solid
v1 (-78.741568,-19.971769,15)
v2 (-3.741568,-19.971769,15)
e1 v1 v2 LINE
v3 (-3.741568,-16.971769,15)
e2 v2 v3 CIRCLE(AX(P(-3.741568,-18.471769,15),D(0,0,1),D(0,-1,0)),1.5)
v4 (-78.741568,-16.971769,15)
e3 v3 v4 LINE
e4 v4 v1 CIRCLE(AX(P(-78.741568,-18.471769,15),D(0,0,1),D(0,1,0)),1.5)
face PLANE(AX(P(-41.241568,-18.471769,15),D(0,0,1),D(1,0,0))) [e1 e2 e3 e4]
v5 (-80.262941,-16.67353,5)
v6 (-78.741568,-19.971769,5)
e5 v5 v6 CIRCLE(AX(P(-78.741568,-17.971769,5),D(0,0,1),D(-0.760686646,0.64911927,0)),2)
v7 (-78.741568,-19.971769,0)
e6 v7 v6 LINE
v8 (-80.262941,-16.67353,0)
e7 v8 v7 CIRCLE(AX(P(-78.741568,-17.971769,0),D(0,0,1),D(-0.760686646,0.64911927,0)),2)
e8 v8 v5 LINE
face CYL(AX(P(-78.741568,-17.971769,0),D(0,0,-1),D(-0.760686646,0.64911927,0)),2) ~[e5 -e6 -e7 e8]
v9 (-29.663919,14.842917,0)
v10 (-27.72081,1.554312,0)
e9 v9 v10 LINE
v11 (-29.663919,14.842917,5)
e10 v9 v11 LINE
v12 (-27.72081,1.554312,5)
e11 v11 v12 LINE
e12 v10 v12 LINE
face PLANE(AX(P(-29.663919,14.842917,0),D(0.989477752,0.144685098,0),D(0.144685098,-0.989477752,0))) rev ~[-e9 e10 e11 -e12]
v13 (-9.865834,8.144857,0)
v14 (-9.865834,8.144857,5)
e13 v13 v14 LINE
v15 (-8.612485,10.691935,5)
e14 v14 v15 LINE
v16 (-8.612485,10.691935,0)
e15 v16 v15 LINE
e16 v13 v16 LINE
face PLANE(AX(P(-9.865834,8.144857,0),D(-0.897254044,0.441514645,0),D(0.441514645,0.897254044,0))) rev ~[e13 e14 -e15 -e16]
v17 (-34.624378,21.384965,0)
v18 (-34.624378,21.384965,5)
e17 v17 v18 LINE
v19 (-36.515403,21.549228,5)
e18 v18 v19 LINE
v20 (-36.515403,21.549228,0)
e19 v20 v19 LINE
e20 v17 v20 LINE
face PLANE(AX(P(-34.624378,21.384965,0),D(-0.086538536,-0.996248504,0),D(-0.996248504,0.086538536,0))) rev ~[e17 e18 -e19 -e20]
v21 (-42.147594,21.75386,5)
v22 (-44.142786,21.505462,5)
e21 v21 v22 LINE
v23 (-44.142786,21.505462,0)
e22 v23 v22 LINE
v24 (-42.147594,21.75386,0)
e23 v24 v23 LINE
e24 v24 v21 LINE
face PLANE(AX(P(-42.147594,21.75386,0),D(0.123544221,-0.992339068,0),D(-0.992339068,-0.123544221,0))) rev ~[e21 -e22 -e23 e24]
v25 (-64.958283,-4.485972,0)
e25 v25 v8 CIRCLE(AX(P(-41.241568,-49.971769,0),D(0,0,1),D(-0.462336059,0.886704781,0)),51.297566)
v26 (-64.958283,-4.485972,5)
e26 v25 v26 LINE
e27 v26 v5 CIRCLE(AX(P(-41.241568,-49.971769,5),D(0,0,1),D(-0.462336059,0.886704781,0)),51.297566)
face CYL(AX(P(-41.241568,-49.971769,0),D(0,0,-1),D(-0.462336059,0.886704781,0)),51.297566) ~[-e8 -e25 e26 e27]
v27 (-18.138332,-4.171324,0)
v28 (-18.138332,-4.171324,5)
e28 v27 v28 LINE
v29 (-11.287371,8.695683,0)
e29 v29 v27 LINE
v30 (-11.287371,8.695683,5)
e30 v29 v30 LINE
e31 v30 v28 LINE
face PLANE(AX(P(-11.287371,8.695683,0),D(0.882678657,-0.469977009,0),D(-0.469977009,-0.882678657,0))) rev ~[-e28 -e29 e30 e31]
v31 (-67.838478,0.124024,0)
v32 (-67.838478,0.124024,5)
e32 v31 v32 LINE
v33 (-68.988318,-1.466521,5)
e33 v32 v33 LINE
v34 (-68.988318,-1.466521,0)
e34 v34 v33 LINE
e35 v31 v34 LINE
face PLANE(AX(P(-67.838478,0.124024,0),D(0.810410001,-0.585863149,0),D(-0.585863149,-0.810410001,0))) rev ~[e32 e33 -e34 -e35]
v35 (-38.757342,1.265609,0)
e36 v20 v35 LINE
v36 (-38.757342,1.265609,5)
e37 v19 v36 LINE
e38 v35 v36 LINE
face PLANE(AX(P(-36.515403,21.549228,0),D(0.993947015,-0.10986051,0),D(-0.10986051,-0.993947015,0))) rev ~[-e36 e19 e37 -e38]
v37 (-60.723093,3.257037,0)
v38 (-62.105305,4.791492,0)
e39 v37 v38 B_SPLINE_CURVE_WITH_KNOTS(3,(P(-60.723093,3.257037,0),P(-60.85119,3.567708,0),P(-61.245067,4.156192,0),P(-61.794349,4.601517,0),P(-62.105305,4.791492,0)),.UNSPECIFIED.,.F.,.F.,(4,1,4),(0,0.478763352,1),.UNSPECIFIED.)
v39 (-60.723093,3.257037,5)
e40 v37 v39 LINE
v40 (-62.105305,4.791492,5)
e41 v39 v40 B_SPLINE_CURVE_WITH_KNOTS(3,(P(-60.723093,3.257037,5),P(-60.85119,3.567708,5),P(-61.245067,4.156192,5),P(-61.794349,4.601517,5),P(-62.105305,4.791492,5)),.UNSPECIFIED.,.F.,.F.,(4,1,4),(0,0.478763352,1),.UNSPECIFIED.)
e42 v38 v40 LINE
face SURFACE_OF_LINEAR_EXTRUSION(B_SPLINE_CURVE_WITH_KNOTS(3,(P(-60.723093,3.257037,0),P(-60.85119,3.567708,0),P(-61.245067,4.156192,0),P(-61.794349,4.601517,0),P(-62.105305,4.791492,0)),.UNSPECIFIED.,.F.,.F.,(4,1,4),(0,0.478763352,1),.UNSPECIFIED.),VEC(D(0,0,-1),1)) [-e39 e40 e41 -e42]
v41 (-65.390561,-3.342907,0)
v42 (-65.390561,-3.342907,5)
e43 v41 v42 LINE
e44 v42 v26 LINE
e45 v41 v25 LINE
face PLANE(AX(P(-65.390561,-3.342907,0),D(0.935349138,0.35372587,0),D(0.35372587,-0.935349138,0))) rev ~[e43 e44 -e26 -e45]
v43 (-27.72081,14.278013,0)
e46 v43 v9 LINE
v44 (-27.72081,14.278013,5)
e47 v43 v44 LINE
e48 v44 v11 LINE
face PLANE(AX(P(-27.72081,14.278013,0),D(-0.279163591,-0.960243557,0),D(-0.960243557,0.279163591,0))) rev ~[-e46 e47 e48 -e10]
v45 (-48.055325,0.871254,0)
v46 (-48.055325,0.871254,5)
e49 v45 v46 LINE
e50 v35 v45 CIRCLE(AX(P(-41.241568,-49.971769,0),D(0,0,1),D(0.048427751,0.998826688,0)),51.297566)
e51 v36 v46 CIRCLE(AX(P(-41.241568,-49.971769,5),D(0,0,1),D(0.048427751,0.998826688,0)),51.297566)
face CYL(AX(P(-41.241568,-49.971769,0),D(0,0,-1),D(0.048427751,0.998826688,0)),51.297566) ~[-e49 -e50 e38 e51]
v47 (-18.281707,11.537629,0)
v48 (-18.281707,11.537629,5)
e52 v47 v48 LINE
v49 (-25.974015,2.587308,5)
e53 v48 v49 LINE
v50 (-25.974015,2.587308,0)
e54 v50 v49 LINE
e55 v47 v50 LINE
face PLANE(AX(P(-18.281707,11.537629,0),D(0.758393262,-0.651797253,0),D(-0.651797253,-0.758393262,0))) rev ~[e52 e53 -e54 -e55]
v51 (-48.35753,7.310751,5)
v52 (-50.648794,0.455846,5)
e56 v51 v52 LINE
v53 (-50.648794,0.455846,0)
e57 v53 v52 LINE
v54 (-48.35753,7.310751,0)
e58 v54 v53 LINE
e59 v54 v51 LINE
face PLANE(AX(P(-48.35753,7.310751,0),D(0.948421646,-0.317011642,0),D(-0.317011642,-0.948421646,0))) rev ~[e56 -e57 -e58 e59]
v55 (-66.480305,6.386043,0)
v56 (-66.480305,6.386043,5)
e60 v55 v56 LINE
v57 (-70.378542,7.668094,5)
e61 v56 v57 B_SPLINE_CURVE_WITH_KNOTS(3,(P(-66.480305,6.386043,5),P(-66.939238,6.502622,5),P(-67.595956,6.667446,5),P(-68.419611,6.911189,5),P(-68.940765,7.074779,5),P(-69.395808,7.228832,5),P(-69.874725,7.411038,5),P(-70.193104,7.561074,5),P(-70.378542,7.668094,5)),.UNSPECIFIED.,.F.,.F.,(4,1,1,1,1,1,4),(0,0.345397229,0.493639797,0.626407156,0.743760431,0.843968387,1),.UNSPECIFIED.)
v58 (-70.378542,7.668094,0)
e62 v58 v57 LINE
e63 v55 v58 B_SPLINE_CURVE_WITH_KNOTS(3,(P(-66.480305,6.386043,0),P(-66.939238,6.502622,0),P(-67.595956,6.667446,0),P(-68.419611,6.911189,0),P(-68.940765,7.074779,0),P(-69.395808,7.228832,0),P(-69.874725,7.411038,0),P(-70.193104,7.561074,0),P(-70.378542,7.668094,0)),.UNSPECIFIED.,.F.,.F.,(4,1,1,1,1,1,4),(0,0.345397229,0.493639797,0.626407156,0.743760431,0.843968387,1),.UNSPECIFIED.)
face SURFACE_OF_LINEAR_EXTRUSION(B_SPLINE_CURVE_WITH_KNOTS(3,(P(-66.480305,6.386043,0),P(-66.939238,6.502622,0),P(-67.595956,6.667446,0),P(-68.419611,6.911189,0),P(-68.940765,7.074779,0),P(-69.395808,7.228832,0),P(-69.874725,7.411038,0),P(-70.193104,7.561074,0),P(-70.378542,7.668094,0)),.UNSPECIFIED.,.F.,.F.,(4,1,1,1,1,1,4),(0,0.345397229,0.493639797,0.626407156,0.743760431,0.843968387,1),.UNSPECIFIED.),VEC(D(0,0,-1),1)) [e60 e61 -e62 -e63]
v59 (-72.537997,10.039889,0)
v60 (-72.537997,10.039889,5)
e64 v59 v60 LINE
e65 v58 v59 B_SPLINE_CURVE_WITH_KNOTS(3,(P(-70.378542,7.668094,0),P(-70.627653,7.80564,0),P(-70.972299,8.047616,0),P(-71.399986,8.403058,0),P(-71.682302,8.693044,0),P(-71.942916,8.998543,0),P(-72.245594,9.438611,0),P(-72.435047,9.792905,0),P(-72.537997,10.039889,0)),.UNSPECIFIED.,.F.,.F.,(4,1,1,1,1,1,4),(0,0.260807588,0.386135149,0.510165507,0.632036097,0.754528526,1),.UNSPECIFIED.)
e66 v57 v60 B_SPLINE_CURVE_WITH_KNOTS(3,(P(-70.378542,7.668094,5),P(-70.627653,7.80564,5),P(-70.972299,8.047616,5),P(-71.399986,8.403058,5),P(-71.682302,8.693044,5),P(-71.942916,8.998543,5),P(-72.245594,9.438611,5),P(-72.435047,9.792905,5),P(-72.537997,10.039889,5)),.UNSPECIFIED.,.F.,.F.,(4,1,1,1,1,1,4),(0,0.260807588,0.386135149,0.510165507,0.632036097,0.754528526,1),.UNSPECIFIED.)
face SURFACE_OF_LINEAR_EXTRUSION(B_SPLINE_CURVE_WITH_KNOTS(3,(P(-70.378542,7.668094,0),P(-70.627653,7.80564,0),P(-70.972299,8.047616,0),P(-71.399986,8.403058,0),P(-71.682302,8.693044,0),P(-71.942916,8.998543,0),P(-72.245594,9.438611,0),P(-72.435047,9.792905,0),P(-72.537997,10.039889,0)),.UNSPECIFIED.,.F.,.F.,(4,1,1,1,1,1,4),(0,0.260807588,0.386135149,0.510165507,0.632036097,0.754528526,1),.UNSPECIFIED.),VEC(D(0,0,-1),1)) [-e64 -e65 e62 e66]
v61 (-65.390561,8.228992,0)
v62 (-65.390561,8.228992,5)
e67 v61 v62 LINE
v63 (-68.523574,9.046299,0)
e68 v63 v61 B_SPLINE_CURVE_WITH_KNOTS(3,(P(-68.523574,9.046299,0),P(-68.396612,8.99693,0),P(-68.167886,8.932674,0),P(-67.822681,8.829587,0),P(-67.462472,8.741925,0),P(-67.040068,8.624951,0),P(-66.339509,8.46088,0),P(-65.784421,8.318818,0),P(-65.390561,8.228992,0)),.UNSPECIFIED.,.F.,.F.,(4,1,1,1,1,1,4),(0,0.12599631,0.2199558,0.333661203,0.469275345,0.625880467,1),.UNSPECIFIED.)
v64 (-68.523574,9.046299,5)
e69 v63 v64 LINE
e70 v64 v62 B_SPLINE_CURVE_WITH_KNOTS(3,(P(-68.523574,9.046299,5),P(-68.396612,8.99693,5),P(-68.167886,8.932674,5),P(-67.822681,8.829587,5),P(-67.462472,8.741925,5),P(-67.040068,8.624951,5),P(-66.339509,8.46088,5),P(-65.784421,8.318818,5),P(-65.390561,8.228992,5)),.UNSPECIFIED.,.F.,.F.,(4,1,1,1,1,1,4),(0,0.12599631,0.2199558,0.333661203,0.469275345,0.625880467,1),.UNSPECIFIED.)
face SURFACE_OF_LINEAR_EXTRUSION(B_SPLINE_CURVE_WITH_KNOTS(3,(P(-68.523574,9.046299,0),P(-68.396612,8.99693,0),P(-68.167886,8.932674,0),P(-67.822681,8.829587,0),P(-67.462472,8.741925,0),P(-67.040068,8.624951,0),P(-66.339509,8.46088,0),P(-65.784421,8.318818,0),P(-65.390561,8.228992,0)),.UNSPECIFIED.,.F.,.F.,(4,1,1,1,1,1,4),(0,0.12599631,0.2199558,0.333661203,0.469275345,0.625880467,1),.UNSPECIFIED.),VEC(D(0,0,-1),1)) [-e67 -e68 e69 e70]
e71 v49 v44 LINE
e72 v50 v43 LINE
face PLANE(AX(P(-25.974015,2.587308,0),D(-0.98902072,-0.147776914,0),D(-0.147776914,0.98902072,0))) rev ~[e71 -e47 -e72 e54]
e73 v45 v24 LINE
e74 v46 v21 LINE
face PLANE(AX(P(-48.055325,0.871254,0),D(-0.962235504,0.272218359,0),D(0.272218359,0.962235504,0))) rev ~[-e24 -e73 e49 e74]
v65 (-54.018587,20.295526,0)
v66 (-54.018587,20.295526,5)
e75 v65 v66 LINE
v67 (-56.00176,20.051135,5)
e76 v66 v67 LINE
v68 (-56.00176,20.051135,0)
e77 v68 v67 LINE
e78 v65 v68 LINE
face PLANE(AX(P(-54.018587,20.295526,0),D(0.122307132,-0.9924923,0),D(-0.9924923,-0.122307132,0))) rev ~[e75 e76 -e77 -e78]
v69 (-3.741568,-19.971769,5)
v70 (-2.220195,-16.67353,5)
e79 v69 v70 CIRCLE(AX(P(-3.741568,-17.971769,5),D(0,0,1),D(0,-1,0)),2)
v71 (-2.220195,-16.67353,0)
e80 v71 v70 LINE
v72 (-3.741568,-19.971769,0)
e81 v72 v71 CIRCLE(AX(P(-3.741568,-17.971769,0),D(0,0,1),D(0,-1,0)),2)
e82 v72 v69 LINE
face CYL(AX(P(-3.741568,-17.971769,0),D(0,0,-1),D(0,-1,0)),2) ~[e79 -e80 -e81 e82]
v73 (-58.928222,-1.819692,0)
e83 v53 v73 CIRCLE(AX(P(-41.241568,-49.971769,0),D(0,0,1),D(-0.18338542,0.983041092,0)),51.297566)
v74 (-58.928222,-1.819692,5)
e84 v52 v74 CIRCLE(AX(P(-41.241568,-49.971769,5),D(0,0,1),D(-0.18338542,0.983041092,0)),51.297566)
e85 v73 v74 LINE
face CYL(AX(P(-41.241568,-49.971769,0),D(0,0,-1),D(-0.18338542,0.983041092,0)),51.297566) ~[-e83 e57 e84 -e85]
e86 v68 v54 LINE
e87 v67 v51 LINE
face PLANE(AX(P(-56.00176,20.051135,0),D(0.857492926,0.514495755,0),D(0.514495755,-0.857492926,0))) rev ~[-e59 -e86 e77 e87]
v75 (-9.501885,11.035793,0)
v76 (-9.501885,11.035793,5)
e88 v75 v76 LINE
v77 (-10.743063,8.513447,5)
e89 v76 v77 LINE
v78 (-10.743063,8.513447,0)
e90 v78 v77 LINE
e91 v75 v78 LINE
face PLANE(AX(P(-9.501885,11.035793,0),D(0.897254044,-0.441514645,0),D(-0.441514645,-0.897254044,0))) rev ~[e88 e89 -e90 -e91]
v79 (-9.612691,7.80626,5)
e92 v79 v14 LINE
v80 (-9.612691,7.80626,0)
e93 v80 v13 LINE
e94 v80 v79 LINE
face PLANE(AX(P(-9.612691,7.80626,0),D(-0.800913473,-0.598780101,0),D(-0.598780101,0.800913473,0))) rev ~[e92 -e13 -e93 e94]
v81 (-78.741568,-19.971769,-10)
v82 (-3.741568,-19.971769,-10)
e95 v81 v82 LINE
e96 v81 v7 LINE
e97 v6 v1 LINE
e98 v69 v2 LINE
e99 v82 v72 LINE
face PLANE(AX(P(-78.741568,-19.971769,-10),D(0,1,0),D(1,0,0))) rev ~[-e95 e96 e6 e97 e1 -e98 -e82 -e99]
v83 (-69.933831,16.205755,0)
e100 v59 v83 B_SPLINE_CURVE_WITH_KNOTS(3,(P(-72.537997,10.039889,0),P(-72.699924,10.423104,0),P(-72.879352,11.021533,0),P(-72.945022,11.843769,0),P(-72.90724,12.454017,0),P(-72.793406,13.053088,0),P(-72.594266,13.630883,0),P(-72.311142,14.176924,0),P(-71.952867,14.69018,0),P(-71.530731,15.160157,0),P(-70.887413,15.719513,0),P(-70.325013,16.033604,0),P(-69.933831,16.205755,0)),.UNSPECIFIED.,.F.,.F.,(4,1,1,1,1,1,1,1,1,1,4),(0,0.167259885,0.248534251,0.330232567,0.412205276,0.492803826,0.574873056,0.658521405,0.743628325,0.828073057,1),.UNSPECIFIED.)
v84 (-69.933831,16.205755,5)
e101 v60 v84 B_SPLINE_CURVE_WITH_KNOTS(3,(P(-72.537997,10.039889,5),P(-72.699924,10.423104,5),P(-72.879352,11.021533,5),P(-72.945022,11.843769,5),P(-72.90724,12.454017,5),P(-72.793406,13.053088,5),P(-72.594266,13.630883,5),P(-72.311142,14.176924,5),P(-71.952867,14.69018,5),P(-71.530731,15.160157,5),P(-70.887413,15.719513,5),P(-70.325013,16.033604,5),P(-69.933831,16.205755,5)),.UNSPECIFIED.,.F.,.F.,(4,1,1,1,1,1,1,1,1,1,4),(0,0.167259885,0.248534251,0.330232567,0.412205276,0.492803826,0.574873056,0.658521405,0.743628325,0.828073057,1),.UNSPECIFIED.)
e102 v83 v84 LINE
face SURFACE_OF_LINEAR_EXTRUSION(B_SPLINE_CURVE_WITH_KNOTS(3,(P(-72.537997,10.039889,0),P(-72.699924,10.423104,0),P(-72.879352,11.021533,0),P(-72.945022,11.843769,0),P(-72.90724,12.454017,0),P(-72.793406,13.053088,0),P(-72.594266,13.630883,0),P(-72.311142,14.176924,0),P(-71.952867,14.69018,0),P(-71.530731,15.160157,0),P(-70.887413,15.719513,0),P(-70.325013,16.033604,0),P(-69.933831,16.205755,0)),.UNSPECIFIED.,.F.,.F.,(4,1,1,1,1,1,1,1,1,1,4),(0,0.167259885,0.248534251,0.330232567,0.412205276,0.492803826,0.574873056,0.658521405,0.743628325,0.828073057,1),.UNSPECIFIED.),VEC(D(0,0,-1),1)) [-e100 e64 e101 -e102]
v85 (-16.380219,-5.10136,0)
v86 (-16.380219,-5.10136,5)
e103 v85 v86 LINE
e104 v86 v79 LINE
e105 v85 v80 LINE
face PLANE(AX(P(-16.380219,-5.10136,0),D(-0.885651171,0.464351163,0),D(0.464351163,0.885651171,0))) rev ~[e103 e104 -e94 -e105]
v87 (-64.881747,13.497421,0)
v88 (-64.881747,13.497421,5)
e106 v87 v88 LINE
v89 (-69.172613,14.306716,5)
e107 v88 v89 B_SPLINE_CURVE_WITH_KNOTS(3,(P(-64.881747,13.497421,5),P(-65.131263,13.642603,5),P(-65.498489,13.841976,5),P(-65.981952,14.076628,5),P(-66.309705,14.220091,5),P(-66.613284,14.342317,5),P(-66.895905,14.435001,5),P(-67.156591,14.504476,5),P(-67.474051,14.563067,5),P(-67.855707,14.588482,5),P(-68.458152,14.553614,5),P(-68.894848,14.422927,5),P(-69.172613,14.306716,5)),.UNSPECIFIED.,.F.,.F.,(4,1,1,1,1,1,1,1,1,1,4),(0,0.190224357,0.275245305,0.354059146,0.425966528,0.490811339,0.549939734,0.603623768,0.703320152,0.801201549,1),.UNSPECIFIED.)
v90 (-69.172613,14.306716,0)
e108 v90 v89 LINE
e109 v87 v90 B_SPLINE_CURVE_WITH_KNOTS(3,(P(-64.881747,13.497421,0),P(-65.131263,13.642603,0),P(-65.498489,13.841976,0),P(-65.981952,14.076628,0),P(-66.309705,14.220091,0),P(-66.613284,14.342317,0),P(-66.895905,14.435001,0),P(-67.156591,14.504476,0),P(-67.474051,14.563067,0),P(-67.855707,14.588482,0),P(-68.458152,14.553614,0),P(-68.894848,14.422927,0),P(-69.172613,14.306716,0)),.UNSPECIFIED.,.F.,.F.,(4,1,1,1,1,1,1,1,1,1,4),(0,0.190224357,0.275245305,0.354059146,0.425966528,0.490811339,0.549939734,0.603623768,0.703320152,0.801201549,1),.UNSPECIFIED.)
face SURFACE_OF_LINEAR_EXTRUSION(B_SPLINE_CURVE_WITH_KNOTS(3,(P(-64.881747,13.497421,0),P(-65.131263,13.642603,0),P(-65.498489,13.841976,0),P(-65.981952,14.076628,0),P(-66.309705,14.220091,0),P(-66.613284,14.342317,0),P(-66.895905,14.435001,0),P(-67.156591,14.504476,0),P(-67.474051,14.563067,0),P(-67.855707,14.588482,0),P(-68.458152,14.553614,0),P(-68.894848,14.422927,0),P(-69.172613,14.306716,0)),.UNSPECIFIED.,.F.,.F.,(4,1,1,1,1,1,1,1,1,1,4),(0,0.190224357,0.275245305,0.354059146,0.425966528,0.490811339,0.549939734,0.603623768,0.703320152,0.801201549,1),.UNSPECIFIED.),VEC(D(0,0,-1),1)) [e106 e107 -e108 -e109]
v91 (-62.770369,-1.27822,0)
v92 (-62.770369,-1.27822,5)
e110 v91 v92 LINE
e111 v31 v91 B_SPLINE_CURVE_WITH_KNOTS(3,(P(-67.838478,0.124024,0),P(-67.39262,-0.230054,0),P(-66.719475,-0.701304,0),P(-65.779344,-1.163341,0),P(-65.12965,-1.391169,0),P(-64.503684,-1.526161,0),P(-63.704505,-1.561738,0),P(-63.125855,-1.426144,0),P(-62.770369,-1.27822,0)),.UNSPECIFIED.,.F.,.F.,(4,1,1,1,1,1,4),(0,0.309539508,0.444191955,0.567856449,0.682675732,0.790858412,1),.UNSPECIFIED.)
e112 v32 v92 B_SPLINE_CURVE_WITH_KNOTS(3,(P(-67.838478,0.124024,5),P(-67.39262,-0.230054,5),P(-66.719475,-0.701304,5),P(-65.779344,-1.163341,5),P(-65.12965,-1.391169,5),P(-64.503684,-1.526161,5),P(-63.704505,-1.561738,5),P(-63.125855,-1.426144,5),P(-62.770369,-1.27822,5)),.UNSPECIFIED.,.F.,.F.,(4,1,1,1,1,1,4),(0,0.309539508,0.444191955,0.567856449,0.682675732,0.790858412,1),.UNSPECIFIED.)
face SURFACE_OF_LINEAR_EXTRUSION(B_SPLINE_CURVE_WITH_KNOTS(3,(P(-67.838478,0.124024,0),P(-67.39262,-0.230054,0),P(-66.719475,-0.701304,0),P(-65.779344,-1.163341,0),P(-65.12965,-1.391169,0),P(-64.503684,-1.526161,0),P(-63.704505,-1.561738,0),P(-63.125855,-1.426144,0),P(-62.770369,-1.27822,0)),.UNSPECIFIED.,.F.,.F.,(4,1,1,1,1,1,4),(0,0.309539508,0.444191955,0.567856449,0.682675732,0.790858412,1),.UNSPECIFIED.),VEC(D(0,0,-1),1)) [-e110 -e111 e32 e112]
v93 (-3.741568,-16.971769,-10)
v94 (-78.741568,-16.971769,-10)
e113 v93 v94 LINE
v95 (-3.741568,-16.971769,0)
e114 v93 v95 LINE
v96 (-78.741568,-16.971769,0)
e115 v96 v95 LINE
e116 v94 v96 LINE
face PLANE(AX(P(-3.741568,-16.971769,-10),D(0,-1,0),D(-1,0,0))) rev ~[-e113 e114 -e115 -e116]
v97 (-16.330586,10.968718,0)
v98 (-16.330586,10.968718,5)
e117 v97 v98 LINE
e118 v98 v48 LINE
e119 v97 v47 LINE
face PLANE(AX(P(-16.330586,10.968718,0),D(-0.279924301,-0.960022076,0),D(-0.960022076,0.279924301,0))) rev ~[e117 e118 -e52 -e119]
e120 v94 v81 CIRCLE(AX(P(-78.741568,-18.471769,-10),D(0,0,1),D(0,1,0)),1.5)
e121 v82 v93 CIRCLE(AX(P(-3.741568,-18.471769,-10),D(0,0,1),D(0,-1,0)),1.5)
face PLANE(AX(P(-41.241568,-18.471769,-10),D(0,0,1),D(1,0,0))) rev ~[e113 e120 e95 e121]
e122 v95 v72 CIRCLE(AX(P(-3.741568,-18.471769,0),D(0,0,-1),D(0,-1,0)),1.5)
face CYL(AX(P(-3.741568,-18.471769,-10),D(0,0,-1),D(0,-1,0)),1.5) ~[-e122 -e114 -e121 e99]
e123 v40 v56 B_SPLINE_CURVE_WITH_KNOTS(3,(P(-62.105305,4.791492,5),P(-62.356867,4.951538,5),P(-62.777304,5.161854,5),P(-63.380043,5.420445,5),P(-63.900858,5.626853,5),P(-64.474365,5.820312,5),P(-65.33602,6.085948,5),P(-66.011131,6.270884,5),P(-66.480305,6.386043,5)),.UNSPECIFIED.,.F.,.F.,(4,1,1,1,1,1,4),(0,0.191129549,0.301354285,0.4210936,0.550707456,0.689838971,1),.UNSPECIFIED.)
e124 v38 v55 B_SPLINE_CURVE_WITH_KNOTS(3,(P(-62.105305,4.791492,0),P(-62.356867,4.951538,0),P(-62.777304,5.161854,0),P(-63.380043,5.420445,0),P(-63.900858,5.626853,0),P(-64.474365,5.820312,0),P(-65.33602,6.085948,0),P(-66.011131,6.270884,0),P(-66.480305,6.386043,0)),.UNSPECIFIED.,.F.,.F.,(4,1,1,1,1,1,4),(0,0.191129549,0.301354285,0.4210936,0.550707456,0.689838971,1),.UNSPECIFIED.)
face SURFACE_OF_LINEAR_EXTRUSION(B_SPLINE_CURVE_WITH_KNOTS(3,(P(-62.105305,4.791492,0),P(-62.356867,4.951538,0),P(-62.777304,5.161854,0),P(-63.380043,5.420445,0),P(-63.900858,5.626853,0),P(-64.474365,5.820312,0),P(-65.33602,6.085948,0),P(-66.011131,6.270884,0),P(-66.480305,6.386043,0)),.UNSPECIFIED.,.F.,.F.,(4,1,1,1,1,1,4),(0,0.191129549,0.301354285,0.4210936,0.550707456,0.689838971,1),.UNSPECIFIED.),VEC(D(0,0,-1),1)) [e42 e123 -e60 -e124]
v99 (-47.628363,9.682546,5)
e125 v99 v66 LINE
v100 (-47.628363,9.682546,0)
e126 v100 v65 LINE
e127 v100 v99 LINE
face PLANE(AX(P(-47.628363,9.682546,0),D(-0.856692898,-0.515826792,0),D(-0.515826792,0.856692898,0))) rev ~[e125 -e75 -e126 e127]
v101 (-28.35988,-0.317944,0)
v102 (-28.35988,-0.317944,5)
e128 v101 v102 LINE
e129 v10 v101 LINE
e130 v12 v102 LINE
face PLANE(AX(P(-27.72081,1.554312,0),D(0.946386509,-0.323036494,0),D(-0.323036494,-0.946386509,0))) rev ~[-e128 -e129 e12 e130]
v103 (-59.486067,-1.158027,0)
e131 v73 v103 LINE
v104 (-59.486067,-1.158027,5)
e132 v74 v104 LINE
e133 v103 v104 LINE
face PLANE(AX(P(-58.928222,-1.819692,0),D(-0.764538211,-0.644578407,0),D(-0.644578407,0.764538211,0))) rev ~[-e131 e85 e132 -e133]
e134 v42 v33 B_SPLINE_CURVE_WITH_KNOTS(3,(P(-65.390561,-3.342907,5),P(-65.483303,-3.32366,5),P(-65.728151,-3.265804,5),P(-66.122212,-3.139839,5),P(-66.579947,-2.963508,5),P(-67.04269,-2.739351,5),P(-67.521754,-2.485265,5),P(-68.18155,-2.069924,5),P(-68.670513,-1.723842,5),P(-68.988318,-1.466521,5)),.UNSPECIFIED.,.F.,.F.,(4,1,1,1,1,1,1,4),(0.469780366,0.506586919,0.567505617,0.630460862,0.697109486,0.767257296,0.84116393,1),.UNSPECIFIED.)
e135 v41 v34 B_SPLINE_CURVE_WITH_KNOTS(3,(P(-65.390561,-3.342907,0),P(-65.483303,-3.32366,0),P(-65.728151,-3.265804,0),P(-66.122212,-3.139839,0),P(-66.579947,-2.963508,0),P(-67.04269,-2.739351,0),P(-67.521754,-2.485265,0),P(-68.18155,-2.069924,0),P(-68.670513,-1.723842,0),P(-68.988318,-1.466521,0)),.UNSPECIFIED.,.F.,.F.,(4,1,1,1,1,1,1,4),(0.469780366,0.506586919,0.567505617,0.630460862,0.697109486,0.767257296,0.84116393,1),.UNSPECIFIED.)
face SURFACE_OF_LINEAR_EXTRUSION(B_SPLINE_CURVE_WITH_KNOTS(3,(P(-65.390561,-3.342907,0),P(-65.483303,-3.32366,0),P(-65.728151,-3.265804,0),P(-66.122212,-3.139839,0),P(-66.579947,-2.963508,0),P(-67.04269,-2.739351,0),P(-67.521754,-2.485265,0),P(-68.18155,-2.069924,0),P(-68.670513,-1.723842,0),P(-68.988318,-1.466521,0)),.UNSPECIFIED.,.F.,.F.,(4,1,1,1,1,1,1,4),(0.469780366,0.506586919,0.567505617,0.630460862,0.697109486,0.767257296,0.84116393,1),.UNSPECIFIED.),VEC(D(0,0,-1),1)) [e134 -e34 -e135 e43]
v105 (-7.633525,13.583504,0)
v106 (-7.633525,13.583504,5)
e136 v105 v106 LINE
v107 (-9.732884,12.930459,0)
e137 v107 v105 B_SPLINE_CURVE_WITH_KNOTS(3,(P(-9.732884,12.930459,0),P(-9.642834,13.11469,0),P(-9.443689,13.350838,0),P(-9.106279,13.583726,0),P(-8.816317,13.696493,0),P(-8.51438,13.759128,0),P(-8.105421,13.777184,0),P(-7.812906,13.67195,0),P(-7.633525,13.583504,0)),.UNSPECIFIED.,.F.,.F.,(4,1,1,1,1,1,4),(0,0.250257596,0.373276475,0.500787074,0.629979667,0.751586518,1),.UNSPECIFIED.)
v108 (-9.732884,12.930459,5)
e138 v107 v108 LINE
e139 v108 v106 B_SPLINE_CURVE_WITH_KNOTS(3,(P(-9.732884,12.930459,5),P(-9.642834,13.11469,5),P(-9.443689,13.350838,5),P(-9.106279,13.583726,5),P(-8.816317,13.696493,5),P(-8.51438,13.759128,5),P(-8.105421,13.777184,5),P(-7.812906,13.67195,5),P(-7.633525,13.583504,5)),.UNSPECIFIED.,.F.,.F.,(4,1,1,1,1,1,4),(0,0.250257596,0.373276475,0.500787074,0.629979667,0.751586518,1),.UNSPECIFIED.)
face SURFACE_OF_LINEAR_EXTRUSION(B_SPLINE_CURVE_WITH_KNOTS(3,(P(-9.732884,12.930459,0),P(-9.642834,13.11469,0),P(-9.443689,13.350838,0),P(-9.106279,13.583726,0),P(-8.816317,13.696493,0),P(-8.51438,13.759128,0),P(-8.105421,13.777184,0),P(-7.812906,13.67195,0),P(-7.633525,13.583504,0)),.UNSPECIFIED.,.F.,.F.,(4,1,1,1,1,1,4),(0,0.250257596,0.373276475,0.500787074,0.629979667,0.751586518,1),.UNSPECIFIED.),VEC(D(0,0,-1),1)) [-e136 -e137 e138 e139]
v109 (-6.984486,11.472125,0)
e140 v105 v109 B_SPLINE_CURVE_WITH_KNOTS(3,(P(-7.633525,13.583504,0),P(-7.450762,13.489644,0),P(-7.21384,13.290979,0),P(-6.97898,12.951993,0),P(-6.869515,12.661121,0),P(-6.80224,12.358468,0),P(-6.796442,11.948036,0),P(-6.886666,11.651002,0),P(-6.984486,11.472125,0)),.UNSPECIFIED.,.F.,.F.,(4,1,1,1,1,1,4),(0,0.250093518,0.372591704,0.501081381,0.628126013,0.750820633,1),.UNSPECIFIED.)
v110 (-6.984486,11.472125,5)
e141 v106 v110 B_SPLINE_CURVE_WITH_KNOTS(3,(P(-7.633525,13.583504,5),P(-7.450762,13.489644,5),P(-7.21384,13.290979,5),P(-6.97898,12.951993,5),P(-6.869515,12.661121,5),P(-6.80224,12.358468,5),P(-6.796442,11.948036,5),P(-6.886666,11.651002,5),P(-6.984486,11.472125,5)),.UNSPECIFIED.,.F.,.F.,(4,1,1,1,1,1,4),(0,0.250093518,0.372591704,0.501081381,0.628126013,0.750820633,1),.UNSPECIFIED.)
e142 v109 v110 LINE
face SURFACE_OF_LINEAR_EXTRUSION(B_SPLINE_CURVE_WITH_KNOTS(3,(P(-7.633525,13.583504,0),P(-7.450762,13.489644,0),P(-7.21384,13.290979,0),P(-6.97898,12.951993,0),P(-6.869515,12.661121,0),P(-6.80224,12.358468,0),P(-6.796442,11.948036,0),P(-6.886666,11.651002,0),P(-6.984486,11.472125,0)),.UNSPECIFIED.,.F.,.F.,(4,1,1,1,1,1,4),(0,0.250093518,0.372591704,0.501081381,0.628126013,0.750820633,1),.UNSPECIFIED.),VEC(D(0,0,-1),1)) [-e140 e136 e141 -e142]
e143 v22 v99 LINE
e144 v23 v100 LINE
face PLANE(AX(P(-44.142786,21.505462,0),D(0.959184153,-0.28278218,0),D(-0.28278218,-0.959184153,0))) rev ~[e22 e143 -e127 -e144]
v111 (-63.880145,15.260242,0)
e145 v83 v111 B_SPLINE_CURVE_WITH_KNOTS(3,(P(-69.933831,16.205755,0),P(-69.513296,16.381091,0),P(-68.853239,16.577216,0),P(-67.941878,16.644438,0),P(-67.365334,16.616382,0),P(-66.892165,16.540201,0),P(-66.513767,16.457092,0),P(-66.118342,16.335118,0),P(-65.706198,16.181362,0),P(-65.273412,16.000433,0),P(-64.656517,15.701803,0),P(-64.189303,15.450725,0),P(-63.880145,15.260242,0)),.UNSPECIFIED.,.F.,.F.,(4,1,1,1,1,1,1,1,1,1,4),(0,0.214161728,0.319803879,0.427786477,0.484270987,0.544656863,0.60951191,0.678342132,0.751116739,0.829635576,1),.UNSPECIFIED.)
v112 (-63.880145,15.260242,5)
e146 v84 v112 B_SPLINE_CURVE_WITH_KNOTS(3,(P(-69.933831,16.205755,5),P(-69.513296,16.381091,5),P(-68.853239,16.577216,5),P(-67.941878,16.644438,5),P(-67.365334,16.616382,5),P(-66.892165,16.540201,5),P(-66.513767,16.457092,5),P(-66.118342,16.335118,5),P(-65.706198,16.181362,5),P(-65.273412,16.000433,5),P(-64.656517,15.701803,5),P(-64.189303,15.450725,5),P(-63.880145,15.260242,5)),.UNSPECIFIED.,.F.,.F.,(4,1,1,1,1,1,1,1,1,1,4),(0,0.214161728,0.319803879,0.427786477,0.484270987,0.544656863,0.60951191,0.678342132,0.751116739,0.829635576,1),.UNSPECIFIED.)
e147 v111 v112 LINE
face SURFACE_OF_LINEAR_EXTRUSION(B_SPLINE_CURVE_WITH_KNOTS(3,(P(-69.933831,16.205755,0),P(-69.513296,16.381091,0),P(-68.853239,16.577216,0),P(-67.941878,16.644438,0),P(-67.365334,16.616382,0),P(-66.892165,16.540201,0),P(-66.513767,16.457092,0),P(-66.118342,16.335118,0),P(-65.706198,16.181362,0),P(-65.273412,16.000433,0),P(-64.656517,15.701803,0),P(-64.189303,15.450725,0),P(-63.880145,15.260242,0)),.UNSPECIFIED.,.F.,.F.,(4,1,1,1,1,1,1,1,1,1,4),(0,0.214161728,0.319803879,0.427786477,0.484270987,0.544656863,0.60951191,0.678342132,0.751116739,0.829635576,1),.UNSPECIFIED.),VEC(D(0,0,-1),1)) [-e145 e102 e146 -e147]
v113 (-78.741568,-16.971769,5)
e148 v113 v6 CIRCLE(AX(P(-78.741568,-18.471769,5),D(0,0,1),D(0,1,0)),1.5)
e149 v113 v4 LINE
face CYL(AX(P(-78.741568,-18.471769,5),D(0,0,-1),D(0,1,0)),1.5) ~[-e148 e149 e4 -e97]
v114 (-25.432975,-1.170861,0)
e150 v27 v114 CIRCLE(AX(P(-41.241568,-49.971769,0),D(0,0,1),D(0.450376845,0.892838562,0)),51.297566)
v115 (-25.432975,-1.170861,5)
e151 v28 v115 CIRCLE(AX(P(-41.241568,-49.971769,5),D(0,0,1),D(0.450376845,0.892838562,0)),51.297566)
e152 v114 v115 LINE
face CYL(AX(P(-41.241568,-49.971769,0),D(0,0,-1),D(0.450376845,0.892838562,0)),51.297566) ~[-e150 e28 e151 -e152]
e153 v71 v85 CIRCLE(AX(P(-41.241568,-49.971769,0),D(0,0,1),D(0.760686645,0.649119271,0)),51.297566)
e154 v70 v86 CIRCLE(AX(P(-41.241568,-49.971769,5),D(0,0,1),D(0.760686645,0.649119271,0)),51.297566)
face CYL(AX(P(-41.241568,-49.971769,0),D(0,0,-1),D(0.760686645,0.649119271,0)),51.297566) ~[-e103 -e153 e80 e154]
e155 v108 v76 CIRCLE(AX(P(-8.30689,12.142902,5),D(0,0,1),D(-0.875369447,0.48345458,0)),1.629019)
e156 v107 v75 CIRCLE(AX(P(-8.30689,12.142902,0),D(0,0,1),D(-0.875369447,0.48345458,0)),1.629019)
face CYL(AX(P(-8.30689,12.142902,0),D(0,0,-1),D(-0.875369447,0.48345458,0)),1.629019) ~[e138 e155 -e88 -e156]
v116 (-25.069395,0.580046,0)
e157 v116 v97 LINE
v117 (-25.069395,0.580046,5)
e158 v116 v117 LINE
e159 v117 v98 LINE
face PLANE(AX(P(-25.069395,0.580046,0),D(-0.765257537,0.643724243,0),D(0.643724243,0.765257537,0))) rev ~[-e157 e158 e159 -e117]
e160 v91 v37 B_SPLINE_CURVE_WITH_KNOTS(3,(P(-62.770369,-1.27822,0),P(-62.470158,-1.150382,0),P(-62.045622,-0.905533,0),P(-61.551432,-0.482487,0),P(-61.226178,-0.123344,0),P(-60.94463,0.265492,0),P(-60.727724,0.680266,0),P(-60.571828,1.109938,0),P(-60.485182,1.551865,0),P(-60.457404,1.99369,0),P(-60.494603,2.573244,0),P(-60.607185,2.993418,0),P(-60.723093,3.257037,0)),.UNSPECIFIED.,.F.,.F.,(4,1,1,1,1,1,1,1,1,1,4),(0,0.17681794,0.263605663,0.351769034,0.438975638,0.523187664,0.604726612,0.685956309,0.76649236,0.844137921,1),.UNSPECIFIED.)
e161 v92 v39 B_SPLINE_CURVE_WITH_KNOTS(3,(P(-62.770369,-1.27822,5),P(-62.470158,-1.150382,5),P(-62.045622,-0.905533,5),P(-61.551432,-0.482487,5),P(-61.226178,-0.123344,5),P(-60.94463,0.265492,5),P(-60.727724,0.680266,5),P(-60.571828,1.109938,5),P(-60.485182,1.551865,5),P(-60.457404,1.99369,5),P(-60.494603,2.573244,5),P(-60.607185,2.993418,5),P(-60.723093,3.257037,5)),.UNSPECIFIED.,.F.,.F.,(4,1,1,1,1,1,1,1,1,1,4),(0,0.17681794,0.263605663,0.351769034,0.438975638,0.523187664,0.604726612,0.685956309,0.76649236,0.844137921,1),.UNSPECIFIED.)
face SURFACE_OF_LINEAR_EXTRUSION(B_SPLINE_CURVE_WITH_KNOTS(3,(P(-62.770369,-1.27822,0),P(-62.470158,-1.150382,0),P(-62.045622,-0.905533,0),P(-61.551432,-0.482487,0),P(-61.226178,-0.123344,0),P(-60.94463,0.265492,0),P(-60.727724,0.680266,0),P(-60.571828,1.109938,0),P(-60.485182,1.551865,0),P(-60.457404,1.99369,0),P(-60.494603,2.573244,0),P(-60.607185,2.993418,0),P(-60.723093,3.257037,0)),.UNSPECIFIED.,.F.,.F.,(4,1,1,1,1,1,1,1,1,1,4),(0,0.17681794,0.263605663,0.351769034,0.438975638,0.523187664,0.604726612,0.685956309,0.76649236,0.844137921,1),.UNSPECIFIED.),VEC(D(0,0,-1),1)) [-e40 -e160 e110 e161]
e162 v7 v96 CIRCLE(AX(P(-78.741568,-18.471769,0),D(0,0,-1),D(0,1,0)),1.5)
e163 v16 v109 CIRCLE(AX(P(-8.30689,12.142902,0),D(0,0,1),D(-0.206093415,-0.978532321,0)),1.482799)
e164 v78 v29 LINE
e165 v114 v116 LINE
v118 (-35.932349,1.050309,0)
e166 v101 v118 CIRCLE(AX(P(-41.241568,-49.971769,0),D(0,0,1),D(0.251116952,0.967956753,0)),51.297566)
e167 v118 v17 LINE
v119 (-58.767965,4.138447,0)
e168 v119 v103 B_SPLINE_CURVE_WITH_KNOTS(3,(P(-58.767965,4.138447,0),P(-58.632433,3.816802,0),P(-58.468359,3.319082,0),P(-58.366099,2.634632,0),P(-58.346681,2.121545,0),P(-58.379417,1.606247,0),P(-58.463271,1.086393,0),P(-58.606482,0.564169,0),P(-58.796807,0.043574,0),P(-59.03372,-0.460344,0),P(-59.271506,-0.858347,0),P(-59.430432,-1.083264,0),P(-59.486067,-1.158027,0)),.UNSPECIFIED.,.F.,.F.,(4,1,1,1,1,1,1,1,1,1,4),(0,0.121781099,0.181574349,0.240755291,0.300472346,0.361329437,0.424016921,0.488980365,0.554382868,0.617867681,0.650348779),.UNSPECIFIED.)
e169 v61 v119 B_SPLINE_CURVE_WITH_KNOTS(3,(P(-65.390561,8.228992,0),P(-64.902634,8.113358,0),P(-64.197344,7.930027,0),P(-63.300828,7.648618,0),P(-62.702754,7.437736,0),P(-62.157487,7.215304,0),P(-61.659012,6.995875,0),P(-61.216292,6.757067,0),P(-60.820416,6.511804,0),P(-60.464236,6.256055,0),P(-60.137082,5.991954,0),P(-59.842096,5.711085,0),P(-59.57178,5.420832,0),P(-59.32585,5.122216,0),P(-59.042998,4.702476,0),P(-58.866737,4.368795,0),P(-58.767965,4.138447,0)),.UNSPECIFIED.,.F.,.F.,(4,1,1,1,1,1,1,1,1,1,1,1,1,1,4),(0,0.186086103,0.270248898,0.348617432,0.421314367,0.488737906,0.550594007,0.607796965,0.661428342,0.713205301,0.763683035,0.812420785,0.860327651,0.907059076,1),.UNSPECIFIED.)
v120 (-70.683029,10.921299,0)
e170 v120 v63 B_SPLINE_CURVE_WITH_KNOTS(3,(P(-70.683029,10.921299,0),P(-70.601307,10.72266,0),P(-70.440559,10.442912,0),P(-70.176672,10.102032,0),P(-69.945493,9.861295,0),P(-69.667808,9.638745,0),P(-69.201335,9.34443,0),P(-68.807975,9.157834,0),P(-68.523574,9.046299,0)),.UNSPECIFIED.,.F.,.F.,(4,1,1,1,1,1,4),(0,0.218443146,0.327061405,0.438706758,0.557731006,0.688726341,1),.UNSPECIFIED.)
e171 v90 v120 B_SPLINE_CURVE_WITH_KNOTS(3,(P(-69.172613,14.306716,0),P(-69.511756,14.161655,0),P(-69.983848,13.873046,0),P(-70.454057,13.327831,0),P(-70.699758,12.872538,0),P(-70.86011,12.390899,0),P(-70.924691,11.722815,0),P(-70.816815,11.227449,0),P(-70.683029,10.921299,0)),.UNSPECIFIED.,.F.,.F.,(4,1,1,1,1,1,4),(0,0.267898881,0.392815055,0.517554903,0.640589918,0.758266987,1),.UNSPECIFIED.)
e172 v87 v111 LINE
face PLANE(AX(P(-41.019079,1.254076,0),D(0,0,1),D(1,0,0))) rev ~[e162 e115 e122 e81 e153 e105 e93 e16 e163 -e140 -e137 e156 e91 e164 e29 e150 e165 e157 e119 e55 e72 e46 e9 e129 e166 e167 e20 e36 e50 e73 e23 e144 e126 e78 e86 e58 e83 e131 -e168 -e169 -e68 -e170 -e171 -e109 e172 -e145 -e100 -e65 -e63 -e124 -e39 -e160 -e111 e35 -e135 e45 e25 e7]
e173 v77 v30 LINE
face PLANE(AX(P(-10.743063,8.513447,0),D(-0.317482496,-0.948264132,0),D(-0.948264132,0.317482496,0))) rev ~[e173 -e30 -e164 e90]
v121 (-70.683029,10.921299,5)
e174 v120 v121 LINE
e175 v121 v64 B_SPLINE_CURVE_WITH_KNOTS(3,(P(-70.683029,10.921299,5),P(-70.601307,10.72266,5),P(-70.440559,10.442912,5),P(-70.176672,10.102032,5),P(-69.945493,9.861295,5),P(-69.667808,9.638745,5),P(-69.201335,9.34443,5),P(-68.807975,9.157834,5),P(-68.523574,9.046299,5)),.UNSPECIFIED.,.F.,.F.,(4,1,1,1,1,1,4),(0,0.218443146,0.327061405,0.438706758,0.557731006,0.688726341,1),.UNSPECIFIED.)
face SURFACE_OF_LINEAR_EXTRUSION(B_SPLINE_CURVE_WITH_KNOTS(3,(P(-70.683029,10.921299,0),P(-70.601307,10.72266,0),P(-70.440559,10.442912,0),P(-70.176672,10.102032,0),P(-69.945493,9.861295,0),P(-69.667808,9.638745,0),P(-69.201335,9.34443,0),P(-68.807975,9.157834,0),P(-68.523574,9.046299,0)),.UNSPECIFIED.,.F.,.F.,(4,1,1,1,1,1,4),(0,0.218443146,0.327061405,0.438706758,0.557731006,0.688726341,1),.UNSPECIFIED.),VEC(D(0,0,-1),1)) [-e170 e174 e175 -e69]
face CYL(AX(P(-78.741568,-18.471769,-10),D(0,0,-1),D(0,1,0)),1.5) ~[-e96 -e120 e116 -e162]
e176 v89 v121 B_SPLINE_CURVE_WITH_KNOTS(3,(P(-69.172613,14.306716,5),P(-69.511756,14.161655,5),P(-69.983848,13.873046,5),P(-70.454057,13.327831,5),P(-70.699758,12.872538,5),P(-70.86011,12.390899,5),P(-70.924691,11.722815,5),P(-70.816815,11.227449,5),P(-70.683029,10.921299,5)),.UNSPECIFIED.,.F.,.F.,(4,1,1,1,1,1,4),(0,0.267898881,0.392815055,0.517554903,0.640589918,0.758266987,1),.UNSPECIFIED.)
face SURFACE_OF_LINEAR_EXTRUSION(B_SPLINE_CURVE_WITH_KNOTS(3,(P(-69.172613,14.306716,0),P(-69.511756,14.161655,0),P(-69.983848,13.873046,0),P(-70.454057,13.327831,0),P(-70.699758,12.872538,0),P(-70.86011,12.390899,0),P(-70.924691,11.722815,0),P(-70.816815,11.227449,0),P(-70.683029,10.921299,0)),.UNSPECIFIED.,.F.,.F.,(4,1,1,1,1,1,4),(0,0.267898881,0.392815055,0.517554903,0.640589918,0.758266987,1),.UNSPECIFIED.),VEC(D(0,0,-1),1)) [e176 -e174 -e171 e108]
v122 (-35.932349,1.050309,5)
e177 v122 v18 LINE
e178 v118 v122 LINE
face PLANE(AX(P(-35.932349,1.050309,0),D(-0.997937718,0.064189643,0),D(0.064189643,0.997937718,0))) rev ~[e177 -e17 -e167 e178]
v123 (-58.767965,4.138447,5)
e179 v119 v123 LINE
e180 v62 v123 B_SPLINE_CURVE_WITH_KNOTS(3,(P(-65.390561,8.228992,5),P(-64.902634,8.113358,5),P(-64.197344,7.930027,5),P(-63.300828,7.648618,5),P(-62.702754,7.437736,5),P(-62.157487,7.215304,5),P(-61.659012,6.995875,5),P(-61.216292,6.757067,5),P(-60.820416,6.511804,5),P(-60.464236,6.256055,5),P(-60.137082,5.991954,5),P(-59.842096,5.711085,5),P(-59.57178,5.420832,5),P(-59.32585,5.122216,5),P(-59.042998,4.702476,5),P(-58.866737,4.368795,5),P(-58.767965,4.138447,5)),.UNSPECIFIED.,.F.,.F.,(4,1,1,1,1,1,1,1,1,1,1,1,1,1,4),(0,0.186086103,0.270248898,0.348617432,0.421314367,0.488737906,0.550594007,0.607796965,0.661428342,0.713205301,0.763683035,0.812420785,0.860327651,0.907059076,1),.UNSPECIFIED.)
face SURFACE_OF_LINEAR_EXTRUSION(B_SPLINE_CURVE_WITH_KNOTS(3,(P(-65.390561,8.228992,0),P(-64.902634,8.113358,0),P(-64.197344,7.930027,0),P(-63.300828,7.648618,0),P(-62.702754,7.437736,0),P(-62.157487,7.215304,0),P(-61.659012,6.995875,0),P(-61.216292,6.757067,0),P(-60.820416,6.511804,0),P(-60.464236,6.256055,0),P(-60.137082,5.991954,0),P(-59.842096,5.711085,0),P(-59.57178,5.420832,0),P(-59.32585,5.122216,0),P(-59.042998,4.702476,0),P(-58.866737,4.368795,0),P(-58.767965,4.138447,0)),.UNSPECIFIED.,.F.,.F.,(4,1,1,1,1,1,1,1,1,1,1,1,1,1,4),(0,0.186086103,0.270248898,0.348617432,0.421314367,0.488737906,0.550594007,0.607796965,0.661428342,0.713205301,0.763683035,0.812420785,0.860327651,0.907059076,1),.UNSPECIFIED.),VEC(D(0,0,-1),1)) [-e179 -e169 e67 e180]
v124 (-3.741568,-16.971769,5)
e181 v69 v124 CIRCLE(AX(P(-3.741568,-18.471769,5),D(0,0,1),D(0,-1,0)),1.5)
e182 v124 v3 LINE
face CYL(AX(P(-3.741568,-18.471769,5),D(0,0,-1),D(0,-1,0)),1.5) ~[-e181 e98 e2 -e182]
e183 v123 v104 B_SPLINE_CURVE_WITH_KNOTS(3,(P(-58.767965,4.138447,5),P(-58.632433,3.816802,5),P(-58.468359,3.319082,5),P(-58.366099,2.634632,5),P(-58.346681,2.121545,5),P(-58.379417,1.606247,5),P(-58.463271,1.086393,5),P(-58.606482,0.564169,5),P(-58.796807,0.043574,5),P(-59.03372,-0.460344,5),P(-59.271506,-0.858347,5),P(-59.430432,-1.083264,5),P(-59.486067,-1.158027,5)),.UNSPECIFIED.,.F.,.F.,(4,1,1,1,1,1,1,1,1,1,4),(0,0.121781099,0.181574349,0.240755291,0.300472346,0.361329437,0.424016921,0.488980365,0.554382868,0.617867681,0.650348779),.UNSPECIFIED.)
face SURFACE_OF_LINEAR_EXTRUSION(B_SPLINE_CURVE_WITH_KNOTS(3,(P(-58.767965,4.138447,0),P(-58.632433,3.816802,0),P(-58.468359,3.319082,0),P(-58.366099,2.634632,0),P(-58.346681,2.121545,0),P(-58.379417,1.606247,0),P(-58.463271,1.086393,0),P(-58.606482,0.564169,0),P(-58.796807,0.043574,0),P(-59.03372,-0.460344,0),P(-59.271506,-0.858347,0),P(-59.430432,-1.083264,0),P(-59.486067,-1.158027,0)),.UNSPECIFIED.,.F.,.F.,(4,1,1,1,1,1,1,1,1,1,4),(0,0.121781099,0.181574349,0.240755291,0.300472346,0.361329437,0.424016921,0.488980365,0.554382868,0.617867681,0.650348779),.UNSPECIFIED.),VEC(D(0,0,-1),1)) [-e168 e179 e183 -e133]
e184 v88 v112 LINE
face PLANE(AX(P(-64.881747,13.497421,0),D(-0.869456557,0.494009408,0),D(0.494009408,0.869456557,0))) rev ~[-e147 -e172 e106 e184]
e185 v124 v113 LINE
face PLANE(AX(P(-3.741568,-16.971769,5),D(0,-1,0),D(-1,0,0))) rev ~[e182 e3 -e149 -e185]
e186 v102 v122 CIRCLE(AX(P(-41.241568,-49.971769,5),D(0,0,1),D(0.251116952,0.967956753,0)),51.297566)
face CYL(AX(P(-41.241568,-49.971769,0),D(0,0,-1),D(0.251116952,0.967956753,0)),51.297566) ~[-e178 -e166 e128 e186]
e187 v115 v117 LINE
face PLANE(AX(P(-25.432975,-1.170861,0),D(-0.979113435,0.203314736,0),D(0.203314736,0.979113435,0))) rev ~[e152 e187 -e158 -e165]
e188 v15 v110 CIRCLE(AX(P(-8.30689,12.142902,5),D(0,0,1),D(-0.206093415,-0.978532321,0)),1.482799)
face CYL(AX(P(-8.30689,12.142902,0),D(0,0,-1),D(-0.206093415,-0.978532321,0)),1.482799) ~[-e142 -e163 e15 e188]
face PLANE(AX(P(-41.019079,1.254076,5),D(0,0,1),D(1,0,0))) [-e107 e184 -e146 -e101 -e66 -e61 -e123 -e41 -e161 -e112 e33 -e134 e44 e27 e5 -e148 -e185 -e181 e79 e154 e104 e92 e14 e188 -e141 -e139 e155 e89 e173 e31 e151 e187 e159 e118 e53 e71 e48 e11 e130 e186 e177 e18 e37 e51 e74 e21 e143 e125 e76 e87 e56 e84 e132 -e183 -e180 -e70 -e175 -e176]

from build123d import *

# Parameters (mm, degrees)
BOSS_EXTRUDE2_DEPTH = 5
BOSS_EXTRUDE3_DEPTH = 10
BOSS_EXTRUDE4_START = -15
BOSS_EXTRUDE4_DEPTH = 15


with BuildPart() as part:
    # Sketch1 → Boss-Extrude2 (new body)
    with BuildSketch(Plane.XY):
        with BuildLine():
            Line((-78.741568111, -19.971768976), (-3.741568111, -19.971768976))
            ThreePointArc((-3.741568111, -19.971768976), (-1.925462789, -18.809481014), (-2.22019482, -16.673530435))
            ThreePointArc((-2.22019482, -16.673530435), (-8.780370535, -10.251359671), (-16.380218592, -5.101360425))
            Line((-16.380218592, -5.101360425), (-9.612691202, 7.806260007))
            Line((-9.612691202, 7.806260007), (-9.86583371, 8.144857173))
            Line((-9.86583371, 8.144857173), (-8.61248496, 10.691935164))
            ThreePointArc((-8.61248496, 10.691935164), (-7.666070715, 10.805724394), (-6.984486074, 11.472125392))
            add(Edge.make_bspline(
                [(-7.633524535, 13.583503597), (-7.450761524, 13.489644152), (-7.213840291, 13.290979351), (-6.978980446, 12.951993331), (-6.869514847, 12.661121381), (-6.802239701, 12.358467844), (-6.796442313, 11.948035815), (-6.886666268, 11.651001568), (-6.984486074, 11.472125392)],
                knots=[0, 0, 0, 0, 0.250093518, 0.372591704, 0.501081381, 0.628126013, 0.750820633, 1, 1, 1, 1], degree=3))
            add(Edge.make_bspline(
                [(-9.73288351, 12.930458725), (-9.642833996, 13.114689808), (-9.443689396, 13.350838456), (-9.106278637, 13.58372579), (-8.816316539, 13.696492608), (-8.514379617, 13.759128454), (-8.105420981, 13.777183759), (-7.812905809, 13.671949699), (-7.633524535, 13.583503597)],
                knots=[0, 0, 0, 0, 0.250257596, 0.373276475, 0.500787074, 0.629979667, 0.751586518, 1, 1, 1, 1], degree=3))
            ThreePointArc((-9.73288351, 12.930458725), (-9.923935025, 11.945750853), (-9.501884753, 11.035792699))
            Line((-9.501884753, 11.035792699), (-10.743063447, 8.513446916))
            Line((-10.743063447, 8.513446916), (-11.287370689, 8.695683084))
            Line((-11.287370689, 8.695683084), (-18.138332228, -4.171324053))
            ThreePointArc((-18.138332228, -4.171324053), (-21.727898204, -2.530679716), (-25.432974513, -1.170860871))
            Line((-25.432974513, -1.170860871), (-25.069395331, 0.580046463))
            Line((-25.069395331, 0.580046463), (-16.330585564, 10.968718496))
            Line((-16.330585564, 10.968718496), (-18.281707358, 11.537628752))
            Line((-18.281707358, 11.537628752), (-25.974015051, 2.587308239))
            Line((-25.974015051, 2.587308239), (-27.720809923, 14.278013368))
            Line((-27.720809923, 14.278013368), (-29.663918897, 14.842917214))
            Line((-29.663918897, 14.842917214), (-27.720809923, 1.554312301))
            Line((-27.720809923, 1.554312301), (-28.359879691, -0.317943676))
            ThreePointArc((-28.359879691, -0.317943676), (-32.120422045, 0.508375218), (-35.932349286, 1.050309175))
            Line((-35.932349286, 1.050309175), (-34.624377569, 21.384965247))
            Line((-34.624377569, 21.384965247), (-36.51540321, 21.549228068))
            Line((-36.51540321, 21.549228068), (-38.75734238, 1.265608845))
            ThreePointArc((-38.75734238, 1.265608845), (-43.415294998, 1.279720513), (-48.055324827, 0.871253975))
            Line((-48.055324827, 0.871253975), (-42.147593657, 21.753859749))
            Line((-42.147593657, 21.753859749), (-44.142785965, 21.505462313))
            Line((-44.142785965, 21.505462313), (-47.628362888, 9.682545647))
            Line((-47.628362888, 9.682545647), (-54.018587247, 20.295526416))
            Line((-54.018587247, 20.295526416), (-56.001760324, 20.05113539))
            Line((-56.001760324, 20.05113539), (-48.357529555, 7.310750775))
            Line((-48.357529555, 7.310750775), (-50.64879376, 0.455846167))
            ThreePointArc((-50.64879376, 0.455846167), (-54.83620271, -0.508386828), (-58.928221607, -1.819691643))
            Line((-58.928221607, -1.819691643), (-59.486067441, -1.158027443))
            add(Edge.make_bspline(
                [(-58.767965197, 4.138446916), (-58.632433324, 3.816801767), (-58.468358871, 3.319082371), (-58.366098618, 2.634631673), (-58.3466812, 2.121545012), (-58.379417146, 1.606246847), (-58.463270637, 1.086393233), (-58.606482046, 0.56416884), (-58.796807034, 0.043574067), (-59.033719801, -0.460344067), (-59.271505549, -0.858346777), (-59.430431513, -1.083264481), (-59.486067441, -1.158027443)],
                knots=[0, 0, 0, 0, 0.121781099, 0.181574349, 0.240755291, 0.300472346, 0.361329437, 0.424016921, 0.488980365, 0.554382868, 0.617867681, 0.650348779, 0.650348779, 0.650348779, 0.650348779], degree=3))
            add(Edge.make_bspline(
                [(-65.390561351, 8.228991788), (-64.902633685, 8.11335842), (-64.197343772, 7.930027482), (-63.30082814, 7.648617805), (-62.702754479, 7.437735793), (-62.157486852, 7.215304215), (-61.659011579, 6.995874871), (-61.216291722, 6.757066667), (-60.820416283, 6.511804438), (-60.464236381, 6.256055058), (-60.137081831, 5.991954452), (-59.842095933, 5.711084522), (-59.57177985, 5.420831504), (-59.325849876, 5.122216348), (-59.042997791, 4.702475861), (-58.866736697, 4.368795154), (-58.767965197, 4.138446916)],
                knots=[0, 0, 0, 0, 0.186086103, 0.270248898, 0.348617432, 0.421314367, 0.488737906, 0.550594007, 0.607796965, 0.661428342, 0.713205301, 0.763683035, 0.812420785, 0.860327651, 0.907059076, 1, 1, 1, 1], degree=3))
            add(Edge.make_bspline(
                [(-68.523574172, 9.04629948), (-68.396612088, 8.99692969), (-68.167885624, 8.932674132), (-67.822681295, 8.829587353), (-67.462472448, 8.741924709), (-67.040068418, 8.624950832), (-66.339508944, 8.460880027), (-65.784421087, 8.318818486), (-65.390561351, 8.228991788)],
                knots=[0, 0, 0, 0, 0.12599631, 0.2199558, 0.333661203, 0.469275345, 0.625880467, 1, 1, 1, 1], degree=3))
            add(Edge.make_bspline(
                [(-70.6830293, 10.92129948), (-70.601306913, 10.722659524), (-70.440559075, 10.442911586), (-70.176671502, 10.102032106), (-69.945492523, 9.861294672), (-69.667807749, 9.638744932), (-69.201334848, 9.344430186), (-68.807975318, 9.157833741), (-68.523574172, 9.04629948)],
                knots=[0, 0, 0, 0, 0.218443146, 0.327061405, 0.438706758, 0.557731006, 0.688726341, 1, 1, 1, 1], degree=3))
            add(Edge.make_bspline(
                [(-69.172612633, 14.306716147), (-69.511756213, 14.161655375), (-69.983847692, 13.873046286), (-70.45405743, 13.327830865), (-70.699757947, 12.872538265), (-70.860109839, 12.390898657), (-70.924691342, 11.722815348), (-70.816815176, 11.227449341), (-70.6830293, 10.92129948)],
                knots=[0, 0, 0, 0, 0.267898881, 0.392815055, 0.517554903, 0.640589918, 0.758266987, 1, 1, 1, 1], degree=3))
            add(Edge.make_bspline(
                [(-64.881747248, 13.497421275), (-65.131263273, 13.64260309), (-65.498488971, 13.841975967), (-65.981952248, 14.076627748), (-66.309705416, 14.220091407), (-66.613283696, 14.342317276), (-66.89590463, 14.435001247), (-67.156590592, 14.504476031), (-67.474050637, 14.563066674), (-67.855706706, 14.588482312), (-68.458151623, 14.553614157), (-68.894847855, 14.422927167), (-69.172612633, 14.306716147)],
                knots=[0, 0, 0, 0, 0.190224357, 0.275245305, 0.354059146, 0.425966528, 0.490811339, 0.549939734, 0.603623768, 0.703320152, 0.801201549, 1, 1, 1, 1], degree=3))
            Line((-64.881747248, 13.497421275), (-63.880144684, 15.260241788))
            add(Edge.make_bspline(
                [(-69.933830582, 16.205754609), (-69.513295772, 16.381090891), (-68.853238941, 16.577215714), (-67.941877747, 16.644437502), (-67.365333828, 16.616381664), (-66.892164866, 16.540200621), (-66.513767424, 16.457091758), (-66.118342421, 16.335118276), (-65.706198306, 16.181361955), (-65.273412125, 16.000433275), (-64.656516975, 15.701803067), (-64.189303477, 15.45072506), (-63.880144684, 15.260241788)],
                knots=[0, 0, 0, 0, 0.214161728, 0.319803879, 0.427786477, 0.484270987, 0.544656863, 0.60951191, 0.678342132, 0.751116739, 0.829635576, 1, 1, 1, 1], degree=3))
            add(Edge.make_bspline(
                [(-72.537997248, 10.039889224), (-72.699924208, 10.423103558), (-72.879352145, 11.021532774), (-72.94502161, 11.843768949), (-72.907239666, 12.454016596), (-72.793405814, 13.053087924), (-72.594265674, 13.630883408), (-72.311141631, 14.176924469), (-71.952867114, 14.690179975), (-71.530731024, 15.160157094), (-70.887413064, 15.719513247), (-70.325012877, 16.03360424), (-69.933830582, 16.205754609)],
                knots=[0, 0, 0, 0, 0.167259885, 0.248534251, 0.330232567, 0.412205276, 0.492803826, 0.574873056, 0.658521405, 0.743628325, 0.828073057, 1, 1, 1, 1], degree=3))
            add(Edge.make_bspline(
                [(-70.37854212, 7.668094352), (-70.627652518, 7.805639689), (-70.9722993, 8.047615887), (-71.399985718, 8.403057985), (-71.682302292, 8.693044319), (-71.942916405, 8.998542942), (-72.245594257, 9.438611346), (-72.43504668, 9.792904819), (-72.537997248, 10.039889224)],
                knots=[0, 0, 0, 0, 0.260807588, 0.386135149, 0.510165507, 0.632036097, 0.754528526, 1, 1, 1, 1], degree=3))
            add(Edge.make_bspline(
                [(-66.480304941, 6.38604307), (-66.939237906, 6.502621912), (-67.595956056, 6.667446498), (-68.419611416, 6.911189468), (-68.940765479, 7.074778748), (-69.395808469, 7.228832255), (-69.874725426, 7.411038295), (-70.193103717, 7.56107394), (-70.37854212, 7.668094352)],
                knots=[0, 0, 0, 0, 0.345397229, 0.493639797, 0.626407156, 0.743760431, 0.843968387, 1, 1, 1, 1], degree=3))
            add(Edge.make_bspline(
                [(-62.105304941, 4.791491788), (-62.356866575, 4.951538017), (-62.777303601, 5.161854383), (-63.380042704, 5.420444816), (-63.900857916, 5.626853211), (-64.474365291, 5.820311723), (-65.336019546, 6.085947908), (-66.011131019, 6.270883703), (-66.480304941, 6.38604307)],
                knots=[0, 0, 0, 0, 0.191129549, 0.301354285, 0.4210936, 0.550707456, 0.689838971, 1, 1, 1, 1], degree=3))
            add(Edge.make_bspline(
                [(-60.723093402, 3.25703666), (-60.851189896, 3.567707672), (-61.245067162, 4.156191539), (-61.794348708, 4.60151737), (-62.105304941, 4.791491788)],
                knots=[0, 0, 0, 0, 0.478763352, 1, 1, 1, 1], degree=3))
            add(Edge.make_bspline(
                [(-62.770369043, -1.27821975), (-62.47015786, -1.150382314), (-62.045621951, -0.905532807), (-61.55143172, -0.482487254), (-61.226177582, -0.123343882), (-60.944629691, 0.265492393), (-60.727723589, 0.680265998), (-60.571827919, 1.1099382), (-60.485181701, 1.551864915), (-60.457404072, 1.993689795), (-60.494603127, 2.573244111), (-60.607185359, 2.993418071), (-60.723093402, 3.25703666)],
                knots=[0, 0, 0, 0, 0.17681794, 0.263605663, 0.351769034, 0.438975638, 0.523187664, 0.604726612, 0.685956309, 0.76649236, 0.844137921, 1, 1, 1, 1], degree=3))
            add(Edge.make_bspline(
                [(-67.838478018, 0.124023839), (-67.392620144, -0.230053647), (-66.719474789, -0.701304364), (-65.779343867, -1.163340947), (-65.129649786, -1.391168667), (-64.503683962, -1.526160956), (-63.704505047, -1.561737642), (-63.125855253, -1.426143664), (-62.770369043, -1.27821975)],
                knots=[0, 0, 0, 0, 0.309539508, 0.444191955, 0.567856449, 0.682675732, 0.790858412, 1, 1, 1, 1], degree=3))
            Line((-67.838478018, 0.124023839), (-68.988317761, -1.466521032))
            add(Edge.make_bspline(
                [(-65.390561351, -3.342907153), (-65.483303049, -3.323660067), (-65.728151046, -3.26580389), (-66.122211697, -3.139838517), (-66.579947428, -2.963507959), (-67.042690206, -2.739351416), (-67.521754448, -2.485264921), (-68.181550366, -2.069924123), (-68.670512859, -1.723841573), (-68.988317761, -1.466521032)],
                knots=[0.469780366, 0.469780366, 0.469780366, 0.469780366, 0.506586919, 0.567505617, 0.630460862, 0.697109486, 0.767257296, 0.84116393, 1, 1, 1, 1], degree=3))
            Line((-65.390561351, -3.342907153), (-64.958282523, -4.485972062))
            ThreePointArc((-64.958282523, -4.485972062), (-73.19702237, -9.843360006), (-80.262941402, -16.673530435))
            ThreePointArc((-80.262941402, -16.673530435), (-80.557673433, -18.809481014), (-78.741568111, -19.971768976))
        make_face()
    extrude(amount=BOSS_EXTRUDE2_DEPTH)

    # Sketch3 → Boss-Extrude3 (add)
    with BuildSketch(Plane.XY.offset(5)):
        with BuildLine():
            Line((-78.741568111, -19.971768976), (-3.741568111, -19.971768976))
            ThreePointArc((-3.741568111, -19.971768976), (-2.241568111, -18.471768976), (-3.741568111, -16.971768976))
            Line((-3.741568111, -16.971768976), (-78.741568111, -16.971768976))
            ThreePointArc((-78.741568111, -16.971768976), (-80.241568111, -18.471768976), (-78.741568111, -19.971768976))
        make_face()
    extrude(amount=BOSS_EXTRUDE3_DEPTH)

    # Sketch3<2> → Boss-Extrude4 (add)
    with BuildSketch(Plane.XY.offset(5).offset(BOSS_EXTRUDE4_START)):
        with BuildLine():
            Line((-78.741568111, -19.971768976), (-3.741568111, -19.971768976))
            ThreePointArc((-3.741568111, -19.971768976), (-2.241568111, -18.471768976), (-3.741568111, -16.971768976))
            Line((-3.741568111, -16.971768976), (-78.741568111, -16.971768976))
            ThreePointArc((-78.741568111, -16.971768976), (-80.241568111, -18.471768976), (-78.741568111, -19.971768976))
        make_face()
    extrude(amount=BOSS_EXTRUDE4_DEPTH)


solid = part.part
